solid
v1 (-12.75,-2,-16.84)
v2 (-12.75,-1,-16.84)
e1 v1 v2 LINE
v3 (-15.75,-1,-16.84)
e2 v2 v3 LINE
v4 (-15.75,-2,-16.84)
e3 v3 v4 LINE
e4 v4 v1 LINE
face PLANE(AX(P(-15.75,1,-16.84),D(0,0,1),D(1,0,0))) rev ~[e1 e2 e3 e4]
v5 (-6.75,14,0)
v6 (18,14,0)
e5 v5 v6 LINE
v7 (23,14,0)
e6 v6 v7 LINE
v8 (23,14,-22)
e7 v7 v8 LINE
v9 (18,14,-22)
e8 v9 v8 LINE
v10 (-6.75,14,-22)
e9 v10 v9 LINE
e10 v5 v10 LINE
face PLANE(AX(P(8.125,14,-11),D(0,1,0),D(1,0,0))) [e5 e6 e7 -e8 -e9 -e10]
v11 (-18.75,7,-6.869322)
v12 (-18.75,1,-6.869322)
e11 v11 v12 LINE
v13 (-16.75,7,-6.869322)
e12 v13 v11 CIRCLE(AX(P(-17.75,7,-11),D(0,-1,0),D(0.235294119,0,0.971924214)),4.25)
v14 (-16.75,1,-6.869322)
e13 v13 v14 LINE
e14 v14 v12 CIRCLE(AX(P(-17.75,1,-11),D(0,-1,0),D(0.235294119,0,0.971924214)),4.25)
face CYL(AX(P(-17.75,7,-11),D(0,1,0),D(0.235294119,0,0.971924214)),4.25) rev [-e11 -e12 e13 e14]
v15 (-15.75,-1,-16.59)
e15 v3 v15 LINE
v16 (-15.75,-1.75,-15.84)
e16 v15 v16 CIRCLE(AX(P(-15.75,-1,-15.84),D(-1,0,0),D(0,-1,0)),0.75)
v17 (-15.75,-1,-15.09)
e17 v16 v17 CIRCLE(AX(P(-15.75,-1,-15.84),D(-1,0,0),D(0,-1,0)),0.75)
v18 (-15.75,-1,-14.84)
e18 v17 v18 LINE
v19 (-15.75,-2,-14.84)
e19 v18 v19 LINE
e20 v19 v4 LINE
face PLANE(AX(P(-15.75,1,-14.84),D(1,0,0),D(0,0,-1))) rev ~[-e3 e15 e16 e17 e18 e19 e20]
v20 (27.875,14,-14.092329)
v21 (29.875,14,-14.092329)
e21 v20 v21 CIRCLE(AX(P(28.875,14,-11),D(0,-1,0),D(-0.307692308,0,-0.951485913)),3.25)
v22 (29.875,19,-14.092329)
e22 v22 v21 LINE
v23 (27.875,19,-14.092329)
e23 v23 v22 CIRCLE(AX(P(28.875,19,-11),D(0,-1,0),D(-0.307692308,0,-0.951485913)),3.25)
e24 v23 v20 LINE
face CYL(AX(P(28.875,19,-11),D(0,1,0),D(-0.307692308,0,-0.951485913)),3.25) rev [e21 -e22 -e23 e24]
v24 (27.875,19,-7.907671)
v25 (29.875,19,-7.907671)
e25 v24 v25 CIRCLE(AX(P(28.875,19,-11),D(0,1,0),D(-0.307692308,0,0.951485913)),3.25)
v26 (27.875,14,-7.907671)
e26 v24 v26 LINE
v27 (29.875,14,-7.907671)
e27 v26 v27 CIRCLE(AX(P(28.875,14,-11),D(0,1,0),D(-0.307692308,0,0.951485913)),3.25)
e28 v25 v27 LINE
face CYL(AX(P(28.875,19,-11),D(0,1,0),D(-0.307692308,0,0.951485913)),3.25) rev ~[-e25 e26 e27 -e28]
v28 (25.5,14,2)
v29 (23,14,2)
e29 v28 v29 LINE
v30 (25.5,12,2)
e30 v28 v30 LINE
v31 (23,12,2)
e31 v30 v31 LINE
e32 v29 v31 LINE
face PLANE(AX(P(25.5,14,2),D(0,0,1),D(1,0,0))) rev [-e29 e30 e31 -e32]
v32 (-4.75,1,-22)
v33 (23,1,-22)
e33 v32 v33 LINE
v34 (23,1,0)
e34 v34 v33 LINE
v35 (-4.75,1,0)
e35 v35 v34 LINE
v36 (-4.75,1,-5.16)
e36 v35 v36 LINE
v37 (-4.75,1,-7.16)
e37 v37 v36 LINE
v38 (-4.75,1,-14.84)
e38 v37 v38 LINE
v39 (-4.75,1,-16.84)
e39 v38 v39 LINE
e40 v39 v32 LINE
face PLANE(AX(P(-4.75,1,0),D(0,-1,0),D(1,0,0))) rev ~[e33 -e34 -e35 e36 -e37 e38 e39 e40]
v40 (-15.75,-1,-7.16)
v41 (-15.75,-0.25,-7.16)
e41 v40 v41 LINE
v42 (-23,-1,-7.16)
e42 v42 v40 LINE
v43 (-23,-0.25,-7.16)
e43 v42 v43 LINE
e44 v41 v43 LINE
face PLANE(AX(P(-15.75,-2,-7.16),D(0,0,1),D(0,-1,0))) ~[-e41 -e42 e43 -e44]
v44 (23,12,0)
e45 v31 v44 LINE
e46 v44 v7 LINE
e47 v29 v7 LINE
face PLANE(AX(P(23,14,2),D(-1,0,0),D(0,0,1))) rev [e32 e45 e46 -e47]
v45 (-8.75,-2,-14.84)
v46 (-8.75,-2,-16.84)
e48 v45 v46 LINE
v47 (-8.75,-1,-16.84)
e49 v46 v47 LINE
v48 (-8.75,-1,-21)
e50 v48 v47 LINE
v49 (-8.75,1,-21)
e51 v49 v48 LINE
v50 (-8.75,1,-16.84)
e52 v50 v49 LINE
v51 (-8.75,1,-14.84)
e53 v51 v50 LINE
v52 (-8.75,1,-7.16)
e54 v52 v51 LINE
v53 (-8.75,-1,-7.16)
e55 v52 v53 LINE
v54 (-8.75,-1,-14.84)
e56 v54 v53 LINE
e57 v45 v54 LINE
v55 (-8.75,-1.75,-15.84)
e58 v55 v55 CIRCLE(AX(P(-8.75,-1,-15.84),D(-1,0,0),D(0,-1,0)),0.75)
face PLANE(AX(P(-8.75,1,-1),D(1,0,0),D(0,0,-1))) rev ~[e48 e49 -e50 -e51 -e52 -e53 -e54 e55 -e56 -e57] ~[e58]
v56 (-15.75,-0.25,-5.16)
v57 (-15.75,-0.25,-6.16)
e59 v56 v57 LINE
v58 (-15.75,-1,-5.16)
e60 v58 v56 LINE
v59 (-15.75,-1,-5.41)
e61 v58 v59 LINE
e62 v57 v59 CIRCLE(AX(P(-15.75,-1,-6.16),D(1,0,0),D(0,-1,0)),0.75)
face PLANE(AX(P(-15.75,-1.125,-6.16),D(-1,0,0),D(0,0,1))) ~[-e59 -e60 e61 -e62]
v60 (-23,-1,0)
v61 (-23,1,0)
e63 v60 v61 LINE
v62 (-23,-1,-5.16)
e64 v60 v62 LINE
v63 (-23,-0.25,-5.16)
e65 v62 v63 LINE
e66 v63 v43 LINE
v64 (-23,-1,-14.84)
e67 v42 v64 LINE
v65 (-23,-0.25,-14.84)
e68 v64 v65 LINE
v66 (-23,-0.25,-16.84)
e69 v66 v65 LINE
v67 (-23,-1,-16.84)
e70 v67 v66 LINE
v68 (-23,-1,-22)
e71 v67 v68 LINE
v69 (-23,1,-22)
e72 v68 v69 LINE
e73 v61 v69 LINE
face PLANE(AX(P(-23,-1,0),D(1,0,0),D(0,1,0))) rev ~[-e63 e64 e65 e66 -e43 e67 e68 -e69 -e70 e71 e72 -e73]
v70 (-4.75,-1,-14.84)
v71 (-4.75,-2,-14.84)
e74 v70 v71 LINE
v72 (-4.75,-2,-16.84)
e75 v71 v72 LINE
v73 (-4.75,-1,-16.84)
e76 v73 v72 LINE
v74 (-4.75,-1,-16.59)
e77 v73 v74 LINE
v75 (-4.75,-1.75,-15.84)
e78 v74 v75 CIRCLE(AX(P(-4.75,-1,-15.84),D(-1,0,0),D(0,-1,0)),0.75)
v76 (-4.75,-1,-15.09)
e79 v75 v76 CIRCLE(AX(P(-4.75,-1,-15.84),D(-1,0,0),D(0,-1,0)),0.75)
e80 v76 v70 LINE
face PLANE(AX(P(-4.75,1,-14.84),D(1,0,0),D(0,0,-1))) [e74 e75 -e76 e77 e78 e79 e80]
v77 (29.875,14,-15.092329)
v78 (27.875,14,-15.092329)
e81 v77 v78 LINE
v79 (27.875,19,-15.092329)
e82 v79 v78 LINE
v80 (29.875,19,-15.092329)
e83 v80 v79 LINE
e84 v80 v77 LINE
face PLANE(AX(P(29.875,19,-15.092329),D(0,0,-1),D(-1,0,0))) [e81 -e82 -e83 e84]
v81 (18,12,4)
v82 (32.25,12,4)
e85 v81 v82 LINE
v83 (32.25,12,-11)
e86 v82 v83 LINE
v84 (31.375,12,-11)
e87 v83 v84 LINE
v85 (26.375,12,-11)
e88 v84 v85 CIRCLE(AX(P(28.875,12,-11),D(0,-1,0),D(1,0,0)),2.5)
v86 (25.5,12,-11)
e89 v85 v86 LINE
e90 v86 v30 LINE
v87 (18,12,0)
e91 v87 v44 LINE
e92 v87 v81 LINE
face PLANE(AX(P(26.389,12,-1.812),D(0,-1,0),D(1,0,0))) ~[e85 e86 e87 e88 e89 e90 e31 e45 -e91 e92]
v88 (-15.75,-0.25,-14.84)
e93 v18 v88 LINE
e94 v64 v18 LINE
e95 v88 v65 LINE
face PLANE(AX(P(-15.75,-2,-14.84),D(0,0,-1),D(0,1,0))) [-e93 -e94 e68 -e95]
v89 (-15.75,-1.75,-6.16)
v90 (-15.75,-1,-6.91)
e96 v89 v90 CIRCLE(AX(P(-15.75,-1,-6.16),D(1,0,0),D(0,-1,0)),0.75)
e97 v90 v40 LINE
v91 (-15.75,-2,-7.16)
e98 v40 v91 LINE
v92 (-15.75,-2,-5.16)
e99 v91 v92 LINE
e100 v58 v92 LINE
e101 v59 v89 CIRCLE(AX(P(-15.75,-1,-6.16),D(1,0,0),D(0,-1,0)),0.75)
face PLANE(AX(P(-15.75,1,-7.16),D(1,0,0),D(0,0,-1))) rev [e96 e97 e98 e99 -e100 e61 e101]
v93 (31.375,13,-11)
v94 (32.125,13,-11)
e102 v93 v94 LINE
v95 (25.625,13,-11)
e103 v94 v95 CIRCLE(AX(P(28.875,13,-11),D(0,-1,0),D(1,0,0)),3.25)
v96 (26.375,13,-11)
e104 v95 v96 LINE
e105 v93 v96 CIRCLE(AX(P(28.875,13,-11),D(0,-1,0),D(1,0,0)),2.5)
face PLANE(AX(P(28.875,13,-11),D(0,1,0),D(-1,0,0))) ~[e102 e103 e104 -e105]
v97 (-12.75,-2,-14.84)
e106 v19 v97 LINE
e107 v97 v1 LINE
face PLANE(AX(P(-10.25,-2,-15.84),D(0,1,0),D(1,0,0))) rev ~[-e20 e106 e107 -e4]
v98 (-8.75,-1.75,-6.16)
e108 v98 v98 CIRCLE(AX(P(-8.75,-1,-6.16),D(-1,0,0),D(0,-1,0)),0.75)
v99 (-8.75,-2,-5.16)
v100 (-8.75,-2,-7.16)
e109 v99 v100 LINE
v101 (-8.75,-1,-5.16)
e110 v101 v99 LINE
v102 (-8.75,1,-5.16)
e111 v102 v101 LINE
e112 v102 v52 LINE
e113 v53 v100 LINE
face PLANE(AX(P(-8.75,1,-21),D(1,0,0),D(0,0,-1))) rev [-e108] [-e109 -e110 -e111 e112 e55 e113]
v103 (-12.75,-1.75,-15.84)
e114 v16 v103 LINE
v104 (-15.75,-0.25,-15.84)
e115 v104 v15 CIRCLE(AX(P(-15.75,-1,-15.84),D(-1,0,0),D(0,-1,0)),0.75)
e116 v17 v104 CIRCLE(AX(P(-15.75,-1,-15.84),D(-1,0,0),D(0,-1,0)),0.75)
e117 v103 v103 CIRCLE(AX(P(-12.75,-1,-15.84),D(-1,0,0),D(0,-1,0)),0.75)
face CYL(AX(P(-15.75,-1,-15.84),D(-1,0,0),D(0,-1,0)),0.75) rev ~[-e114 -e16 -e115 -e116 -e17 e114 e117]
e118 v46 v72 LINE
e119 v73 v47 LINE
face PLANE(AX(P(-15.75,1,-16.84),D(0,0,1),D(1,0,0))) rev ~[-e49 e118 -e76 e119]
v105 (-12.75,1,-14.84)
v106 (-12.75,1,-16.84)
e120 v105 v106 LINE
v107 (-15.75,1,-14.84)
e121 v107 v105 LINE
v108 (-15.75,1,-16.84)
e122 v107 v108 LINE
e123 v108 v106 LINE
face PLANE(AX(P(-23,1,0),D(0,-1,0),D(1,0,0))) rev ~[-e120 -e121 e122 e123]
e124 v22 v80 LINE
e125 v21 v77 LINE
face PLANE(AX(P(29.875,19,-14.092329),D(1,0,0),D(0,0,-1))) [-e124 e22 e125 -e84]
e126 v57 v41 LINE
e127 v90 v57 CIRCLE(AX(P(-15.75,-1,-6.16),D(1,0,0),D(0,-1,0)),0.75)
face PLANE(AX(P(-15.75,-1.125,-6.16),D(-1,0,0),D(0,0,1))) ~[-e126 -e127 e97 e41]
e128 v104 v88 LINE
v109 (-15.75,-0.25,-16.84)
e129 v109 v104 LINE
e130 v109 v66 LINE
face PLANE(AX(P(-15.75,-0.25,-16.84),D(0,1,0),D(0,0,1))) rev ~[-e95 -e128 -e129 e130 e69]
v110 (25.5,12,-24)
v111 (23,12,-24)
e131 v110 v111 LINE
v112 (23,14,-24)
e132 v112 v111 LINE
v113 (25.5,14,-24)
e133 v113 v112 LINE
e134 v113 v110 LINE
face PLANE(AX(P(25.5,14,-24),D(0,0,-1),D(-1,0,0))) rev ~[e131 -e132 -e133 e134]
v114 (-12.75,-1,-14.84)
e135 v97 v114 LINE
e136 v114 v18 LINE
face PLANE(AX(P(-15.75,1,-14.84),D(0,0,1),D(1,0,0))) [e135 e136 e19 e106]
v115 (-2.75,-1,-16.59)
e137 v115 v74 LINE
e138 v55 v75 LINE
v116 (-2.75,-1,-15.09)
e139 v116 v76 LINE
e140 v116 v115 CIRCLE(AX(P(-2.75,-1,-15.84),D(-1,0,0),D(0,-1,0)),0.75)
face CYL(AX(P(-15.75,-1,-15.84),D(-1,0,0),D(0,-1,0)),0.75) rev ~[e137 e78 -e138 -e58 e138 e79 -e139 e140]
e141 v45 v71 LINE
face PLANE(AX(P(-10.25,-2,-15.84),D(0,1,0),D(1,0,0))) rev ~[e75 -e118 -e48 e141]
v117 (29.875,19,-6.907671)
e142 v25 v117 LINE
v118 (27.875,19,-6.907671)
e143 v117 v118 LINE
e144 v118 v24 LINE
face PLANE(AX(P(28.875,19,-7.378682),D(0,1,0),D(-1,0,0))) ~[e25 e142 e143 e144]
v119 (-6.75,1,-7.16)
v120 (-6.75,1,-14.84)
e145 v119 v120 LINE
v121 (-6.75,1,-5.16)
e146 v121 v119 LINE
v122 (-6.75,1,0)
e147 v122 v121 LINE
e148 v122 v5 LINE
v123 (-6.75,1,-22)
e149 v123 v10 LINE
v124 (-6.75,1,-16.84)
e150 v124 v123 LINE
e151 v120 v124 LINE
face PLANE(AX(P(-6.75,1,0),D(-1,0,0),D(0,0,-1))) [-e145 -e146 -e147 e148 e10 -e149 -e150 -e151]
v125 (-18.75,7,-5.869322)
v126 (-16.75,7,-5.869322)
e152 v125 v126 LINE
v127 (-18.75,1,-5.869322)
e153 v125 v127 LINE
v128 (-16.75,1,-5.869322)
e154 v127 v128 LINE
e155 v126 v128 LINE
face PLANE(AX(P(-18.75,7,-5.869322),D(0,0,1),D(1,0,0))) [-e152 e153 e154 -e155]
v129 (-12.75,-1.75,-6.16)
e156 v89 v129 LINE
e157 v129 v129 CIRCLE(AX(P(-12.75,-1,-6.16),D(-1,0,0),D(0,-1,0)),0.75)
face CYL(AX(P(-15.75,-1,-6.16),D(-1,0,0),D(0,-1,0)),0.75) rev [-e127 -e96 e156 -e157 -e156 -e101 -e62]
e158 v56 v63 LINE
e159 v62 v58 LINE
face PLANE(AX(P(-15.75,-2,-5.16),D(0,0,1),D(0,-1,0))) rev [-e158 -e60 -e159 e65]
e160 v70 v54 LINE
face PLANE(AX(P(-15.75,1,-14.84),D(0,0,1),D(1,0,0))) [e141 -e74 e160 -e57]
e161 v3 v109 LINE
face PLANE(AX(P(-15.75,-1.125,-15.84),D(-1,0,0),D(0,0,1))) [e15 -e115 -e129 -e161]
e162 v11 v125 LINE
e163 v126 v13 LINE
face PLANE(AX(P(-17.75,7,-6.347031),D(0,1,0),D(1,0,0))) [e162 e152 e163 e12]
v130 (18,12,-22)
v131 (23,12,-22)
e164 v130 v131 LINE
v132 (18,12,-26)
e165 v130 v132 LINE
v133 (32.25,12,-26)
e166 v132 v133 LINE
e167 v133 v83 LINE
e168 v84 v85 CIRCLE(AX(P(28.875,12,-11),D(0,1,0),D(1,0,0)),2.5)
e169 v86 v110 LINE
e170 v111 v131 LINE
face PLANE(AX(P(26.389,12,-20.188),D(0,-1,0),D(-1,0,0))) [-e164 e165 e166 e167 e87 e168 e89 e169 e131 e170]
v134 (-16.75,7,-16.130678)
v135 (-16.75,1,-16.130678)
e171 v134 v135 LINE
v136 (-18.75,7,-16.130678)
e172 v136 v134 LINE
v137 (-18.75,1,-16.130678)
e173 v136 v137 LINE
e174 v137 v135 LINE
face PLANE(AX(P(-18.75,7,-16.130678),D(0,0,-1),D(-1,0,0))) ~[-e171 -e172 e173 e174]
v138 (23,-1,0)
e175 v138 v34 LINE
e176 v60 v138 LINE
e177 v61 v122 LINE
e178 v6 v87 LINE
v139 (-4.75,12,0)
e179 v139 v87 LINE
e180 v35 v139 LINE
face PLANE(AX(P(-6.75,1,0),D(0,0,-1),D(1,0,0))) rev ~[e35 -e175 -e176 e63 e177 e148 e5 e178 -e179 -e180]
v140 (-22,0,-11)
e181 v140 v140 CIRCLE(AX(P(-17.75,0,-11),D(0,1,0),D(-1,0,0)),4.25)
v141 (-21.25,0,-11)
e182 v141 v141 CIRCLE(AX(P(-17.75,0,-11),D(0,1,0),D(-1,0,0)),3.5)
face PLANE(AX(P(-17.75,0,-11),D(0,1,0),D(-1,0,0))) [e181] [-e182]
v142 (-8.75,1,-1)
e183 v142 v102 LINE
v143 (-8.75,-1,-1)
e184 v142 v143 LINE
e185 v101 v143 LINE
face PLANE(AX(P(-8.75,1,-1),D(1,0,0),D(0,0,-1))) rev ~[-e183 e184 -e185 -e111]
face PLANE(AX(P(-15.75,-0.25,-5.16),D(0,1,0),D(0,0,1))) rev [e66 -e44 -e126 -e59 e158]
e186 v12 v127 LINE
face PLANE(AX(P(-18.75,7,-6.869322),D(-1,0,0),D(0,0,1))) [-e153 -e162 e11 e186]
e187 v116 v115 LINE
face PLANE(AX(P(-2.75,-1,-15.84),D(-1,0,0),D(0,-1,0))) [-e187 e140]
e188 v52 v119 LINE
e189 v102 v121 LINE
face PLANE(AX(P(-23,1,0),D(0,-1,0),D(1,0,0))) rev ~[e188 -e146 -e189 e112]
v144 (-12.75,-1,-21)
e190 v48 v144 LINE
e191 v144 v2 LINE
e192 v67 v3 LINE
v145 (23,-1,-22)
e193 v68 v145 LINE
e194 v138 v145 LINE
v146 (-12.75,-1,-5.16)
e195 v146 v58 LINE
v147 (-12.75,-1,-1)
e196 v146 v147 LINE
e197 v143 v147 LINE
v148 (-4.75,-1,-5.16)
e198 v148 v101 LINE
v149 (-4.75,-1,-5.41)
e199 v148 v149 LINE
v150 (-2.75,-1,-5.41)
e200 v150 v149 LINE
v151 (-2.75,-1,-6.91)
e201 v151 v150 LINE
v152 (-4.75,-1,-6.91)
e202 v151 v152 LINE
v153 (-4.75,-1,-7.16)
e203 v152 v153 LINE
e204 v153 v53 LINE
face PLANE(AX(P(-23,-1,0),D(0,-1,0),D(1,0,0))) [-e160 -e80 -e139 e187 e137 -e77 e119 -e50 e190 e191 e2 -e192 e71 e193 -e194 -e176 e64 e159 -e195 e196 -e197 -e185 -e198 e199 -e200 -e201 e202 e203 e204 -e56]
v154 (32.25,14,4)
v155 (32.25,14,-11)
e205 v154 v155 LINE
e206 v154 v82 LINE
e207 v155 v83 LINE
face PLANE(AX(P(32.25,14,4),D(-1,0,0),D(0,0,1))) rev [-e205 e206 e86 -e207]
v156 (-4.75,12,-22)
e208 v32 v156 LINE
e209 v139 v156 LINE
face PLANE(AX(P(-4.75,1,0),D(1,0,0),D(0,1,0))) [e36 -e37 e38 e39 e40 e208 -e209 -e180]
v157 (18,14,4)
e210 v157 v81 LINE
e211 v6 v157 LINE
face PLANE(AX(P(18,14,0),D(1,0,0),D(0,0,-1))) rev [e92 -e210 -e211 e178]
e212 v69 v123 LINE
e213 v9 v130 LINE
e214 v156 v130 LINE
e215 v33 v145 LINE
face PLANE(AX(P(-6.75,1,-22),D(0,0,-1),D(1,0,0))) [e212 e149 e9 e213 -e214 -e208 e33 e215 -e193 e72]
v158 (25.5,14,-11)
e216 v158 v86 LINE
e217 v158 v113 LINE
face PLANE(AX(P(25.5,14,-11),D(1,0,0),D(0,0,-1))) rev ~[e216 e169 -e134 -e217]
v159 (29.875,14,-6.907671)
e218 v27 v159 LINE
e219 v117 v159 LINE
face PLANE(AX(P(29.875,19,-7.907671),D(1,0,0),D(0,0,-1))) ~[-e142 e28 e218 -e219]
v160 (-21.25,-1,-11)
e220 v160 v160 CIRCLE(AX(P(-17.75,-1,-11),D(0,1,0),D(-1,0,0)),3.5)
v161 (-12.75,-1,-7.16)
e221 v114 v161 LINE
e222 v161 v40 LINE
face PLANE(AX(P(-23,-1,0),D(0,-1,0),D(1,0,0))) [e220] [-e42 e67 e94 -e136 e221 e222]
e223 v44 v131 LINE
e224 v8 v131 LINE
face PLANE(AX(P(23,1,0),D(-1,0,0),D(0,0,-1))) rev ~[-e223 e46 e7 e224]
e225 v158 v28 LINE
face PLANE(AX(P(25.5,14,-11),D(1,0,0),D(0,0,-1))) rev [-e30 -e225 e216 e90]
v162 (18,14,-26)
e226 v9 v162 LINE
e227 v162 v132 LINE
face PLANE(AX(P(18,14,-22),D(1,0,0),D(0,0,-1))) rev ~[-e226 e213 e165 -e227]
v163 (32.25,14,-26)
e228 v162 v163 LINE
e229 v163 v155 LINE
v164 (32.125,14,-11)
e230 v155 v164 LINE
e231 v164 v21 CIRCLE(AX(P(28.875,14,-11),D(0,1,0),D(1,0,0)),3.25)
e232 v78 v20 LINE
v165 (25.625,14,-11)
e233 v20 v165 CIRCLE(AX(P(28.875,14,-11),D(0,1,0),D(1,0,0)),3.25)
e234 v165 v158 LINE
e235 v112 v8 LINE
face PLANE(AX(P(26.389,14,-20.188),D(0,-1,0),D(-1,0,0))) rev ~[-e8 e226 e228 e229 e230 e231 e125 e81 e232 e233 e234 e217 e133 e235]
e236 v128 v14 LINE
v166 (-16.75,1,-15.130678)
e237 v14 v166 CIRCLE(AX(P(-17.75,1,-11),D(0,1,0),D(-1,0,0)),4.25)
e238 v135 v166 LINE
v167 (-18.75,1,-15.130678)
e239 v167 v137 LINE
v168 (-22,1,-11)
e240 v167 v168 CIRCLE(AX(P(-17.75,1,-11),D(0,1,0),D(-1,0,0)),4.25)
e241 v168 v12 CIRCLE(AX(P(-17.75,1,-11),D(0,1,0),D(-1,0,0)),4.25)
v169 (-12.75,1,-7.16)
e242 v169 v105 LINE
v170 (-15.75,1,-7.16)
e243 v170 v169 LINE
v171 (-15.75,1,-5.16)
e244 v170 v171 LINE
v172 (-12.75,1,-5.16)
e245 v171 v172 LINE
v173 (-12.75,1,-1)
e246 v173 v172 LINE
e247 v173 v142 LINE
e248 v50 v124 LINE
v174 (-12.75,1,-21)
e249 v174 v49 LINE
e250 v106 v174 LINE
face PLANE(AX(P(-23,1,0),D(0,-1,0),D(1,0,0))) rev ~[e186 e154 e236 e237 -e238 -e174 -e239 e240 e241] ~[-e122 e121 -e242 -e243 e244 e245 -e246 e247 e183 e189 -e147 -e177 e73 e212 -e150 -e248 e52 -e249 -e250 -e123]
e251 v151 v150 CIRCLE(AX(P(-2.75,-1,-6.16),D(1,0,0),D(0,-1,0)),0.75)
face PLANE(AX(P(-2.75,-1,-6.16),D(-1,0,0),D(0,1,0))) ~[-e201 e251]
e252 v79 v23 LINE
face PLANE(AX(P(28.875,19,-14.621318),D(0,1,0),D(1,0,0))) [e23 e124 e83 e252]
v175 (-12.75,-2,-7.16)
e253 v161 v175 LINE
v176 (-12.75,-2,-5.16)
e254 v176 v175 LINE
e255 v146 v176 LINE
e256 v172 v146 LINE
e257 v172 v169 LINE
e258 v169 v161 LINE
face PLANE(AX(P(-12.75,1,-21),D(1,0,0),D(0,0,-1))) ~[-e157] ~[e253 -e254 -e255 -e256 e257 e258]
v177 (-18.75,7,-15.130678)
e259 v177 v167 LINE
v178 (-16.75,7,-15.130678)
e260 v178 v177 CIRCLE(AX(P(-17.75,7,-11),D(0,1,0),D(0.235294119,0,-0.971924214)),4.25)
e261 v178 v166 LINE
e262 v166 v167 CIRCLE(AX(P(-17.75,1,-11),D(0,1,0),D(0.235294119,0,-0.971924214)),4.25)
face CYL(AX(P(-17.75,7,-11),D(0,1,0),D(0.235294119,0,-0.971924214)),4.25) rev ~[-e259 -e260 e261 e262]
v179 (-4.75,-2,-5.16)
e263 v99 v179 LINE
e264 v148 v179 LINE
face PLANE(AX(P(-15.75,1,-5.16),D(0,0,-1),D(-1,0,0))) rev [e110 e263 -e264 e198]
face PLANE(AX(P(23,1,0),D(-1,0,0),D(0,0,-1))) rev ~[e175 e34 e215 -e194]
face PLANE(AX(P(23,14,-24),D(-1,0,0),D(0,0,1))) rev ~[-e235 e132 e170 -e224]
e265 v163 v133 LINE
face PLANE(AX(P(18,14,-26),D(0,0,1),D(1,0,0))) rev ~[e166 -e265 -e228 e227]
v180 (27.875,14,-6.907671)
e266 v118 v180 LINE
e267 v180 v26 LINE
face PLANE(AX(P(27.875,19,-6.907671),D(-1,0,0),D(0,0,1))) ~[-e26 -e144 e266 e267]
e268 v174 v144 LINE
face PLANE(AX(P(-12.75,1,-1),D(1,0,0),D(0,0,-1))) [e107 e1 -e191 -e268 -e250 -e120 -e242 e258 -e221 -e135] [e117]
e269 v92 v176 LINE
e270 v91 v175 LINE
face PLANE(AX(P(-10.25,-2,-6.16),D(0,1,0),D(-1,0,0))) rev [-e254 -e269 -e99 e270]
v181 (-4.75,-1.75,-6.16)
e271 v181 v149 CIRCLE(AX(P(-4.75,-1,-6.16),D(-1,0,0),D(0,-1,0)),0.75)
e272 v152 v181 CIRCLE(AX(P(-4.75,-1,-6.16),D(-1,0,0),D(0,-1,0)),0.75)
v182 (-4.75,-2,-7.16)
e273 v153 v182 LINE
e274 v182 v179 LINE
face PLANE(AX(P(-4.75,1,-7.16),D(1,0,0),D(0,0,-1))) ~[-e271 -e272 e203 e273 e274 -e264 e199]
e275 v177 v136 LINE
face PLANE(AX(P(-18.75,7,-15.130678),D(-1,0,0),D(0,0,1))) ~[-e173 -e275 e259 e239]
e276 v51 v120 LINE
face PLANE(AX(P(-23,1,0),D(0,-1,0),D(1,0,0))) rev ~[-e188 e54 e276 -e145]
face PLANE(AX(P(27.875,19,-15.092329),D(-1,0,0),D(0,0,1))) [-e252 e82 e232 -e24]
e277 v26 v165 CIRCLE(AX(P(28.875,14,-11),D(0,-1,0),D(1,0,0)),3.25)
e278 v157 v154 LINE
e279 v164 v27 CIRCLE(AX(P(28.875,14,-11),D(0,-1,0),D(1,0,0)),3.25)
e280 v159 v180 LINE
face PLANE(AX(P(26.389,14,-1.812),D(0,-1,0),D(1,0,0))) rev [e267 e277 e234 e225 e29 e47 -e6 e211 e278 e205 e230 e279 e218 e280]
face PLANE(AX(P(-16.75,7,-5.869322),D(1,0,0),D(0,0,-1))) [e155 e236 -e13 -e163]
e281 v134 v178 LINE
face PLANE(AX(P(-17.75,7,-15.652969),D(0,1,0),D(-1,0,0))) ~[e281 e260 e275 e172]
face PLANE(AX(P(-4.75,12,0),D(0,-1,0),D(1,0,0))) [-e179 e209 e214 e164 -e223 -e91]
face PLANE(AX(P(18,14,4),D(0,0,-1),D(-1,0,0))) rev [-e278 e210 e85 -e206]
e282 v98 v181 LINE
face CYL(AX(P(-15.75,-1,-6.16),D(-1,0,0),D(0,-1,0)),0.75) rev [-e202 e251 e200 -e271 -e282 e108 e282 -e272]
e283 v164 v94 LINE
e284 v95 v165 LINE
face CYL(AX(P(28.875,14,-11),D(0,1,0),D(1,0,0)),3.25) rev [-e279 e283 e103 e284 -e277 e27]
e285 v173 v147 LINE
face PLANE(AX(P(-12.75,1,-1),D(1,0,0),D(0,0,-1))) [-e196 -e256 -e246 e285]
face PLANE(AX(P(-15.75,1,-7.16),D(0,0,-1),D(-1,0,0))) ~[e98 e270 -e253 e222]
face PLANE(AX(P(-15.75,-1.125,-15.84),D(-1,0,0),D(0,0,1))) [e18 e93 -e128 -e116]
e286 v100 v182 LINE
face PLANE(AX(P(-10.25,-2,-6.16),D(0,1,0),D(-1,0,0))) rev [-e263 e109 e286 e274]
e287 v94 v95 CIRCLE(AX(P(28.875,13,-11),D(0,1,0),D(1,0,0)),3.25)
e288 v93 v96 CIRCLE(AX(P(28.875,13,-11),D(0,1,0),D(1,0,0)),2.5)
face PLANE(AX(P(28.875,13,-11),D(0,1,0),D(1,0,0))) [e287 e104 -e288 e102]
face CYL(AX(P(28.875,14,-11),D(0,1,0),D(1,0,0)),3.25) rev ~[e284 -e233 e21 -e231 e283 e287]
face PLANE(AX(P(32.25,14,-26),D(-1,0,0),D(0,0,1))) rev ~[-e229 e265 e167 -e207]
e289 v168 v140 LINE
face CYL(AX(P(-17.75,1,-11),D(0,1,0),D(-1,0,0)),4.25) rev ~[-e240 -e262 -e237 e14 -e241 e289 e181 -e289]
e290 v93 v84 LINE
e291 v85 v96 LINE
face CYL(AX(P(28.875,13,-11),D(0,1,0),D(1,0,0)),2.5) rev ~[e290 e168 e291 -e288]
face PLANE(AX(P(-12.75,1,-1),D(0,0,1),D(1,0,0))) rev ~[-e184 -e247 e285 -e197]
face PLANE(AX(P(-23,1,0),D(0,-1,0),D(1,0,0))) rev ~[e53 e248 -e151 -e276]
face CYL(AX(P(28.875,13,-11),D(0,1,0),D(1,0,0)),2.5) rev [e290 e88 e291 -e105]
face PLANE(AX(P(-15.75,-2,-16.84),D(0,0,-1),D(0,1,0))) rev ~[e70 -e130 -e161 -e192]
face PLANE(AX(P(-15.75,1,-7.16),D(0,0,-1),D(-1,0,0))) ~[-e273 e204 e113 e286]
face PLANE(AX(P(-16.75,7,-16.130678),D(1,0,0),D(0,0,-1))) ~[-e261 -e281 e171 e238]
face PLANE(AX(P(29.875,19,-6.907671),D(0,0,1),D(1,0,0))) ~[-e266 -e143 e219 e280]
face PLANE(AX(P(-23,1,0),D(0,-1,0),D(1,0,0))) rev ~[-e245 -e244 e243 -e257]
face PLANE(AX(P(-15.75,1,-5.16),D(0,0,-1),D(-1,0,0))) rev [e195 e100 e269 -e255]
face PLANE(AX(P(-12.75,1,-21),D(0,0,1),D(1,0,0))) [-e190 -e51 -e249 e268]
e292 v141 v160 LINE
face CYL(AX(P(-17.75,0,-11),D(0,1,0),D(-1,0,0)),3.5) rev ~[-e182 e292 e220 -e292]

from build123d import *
from build123d.topology import SkipClean

# Parameters (mm, degrees)
SKETCH1_W           = 46
SKETCH1_H           = 2
BOSS_EXTRUDE1_DEPTH = 22
SKETCH2_W           = 29.75
SKETCH2_H           = 22
BOSS_EXTRUDE2_DEPTH = 13
SKETCH3_W           = 27.75
SKETCH3_H           = 11
CUT_EXTRUDE1_DEPTH  = 22
SKETCH4_R           = 4.25
CUT_EXTRUDE2_DEPTH  = 1
SKETCH5_R           = 3.5
CUT_EXTRUDE3_DEPTH  = 1
BOSS_EXTRUDE4_START = 6
BOSS_EXTRUDE4_DEPTH = 6
SKETCH20_W          = 11
SKETCH20_H          = 2
BOSS_EXTRUDE8_DEPTH = 3
SKETCH6_W           = 4
SKETCH6_H           = 20
CUT_EXTRUDE4_DEPTH  = 35.380226875
SKETCH25_W          = 2
SKETCH25_H          = 1.75
CUT_EXTRUDE7_DEPTH  = 47.707199659
SKETCH26_R          = 0.75
CUT_EXTRUDE8_DEPTH  = 13
BOSS_EXTRUDE3_DEPTH = 2
SKETCH13_R          = 3.25
CUT_EXTRUDE5_DEPTH  = 1
SKETCH14_R          = 2.5
CUT_EXTRUDE6_DEPTH  = 1
BOSS_EXTRUDE6_START = 5
BOSS_EXTRUDE6_DEPTH = 5


with BuildPart() as part:
    # Sketch1 → Boss-Extrude1 (new body)
    with BuildSketch(Plane.XY):
        Rectangle(SKETCH1_W, SKETCH1_H)
    extrude(amount=-BOSS_EXTRUDE1_DEPTH)

    # Sketch2 → Boss-Extrude2 (add)
    with BuildSketch(Plane(origin=(0, 1, 0), x_dir=(1, 0, 0), z_dir=(0, 1, 0))):
        with Locations((8.125, 11)):
            Rectangle(SKETCH2_W, SKETCH2_H)
    extrude(amount=BOSS_EXTRUDE2_DEPTH)

    # Sketch3 → Cut-Extrude1 (cut)
    with BuildSketch(Plane.XY):
        with Locations((9.125, 6.5)):
            Rectangle(SKETCH3_W, SKETCH3_H)
    extrude(amount=-CUT_EXTRUDE1_DEPTH, mode=Mode.SUBTRACT)

    # Sketch4 → Cut-Extrude2 (cut)
    with BuildSketch(Plane(origin=(0, 1, 0), x_dir=(1, 0, 0), z_dir=(0, 1, 0))):
        with Locations(Location((-17.75, 11, 0), (0, 0, 180))):
            Circle(SKETCH4_R)
    extrude(amount=-CUT_EXTRUDE2_DEPTH, mode=Mode.SUBTRACT)

    # Sketch5 → Cut-Extrude3 (cut)
    with BuildSketch(Plane(origin=(0, 0, 0), x_dir=(1, 0, 0), z_dir=(0, 1, 0))):
        with Locations(Location((-17.75, 11, 0), (0, 0, 180))):
            Circle(SKETCH5_R)
    extrude(amount=-CUT_EXTRUDE3_DEPTH, mode=Mode.SUBTRACT)

    # Sketch16 → Boss-Extrude4 (add)
    with SkipClean():  # the faces are left unmerged after this step: merging them gives an invalid solid
        with BuildSketch(Plane(origin=(0, 1, 0), x_dir=(1, 0, 0), z_dir=(0, 1, 0)).offset(BOSS_EXTRUDE4_START)):
            with BuildLine():
                Line((-18.75, 6.86932209), (-18.75, 5.86932209))
                Line((-18.75, 5.86932209), (-16.75, 5.86932209))
                Line((-16.75, 5.86932209), (-16.75, 6.86932209))
                ThreePointArc((-16.75, 6.86932209), (-17.75, 6.75), (-18.75, 6.86932209))
            make_face()
        boss_extrude4 = extrude(amount=-BOSS_EXTRUDE4_DEPTH)

    # Sketch20 → Boss-Extrude8 (add)
    with SkipClean():  # the faces are left unmerged after this step: merging them gives an invalid solid
        with BuildSketch(Plane(origin=(0, 1, 0), x_dir=(1, 0, 0), z_dir=(0, 1, 0))):
            with Locations((-10.25, 15.84)):
                Rectangle(SKETCH20_W, SKETCH20_H)
        boss_extrude8 = extrude(amount=-BOSS_EXTRUDE8_DEPTH)

    # Sketch6 → Cut-Extrude4 (cut, through all)
    with SkipClean():  # the faces are left unmerged after this step: merging them gives an invalid solid
        with BuildSketch(Plane(origin=(0, 1, 0), x_dir=(1, 0, 0), z_dir=(0, 1, 0))):
            with Locations((-10.75, 11)):
                Rectangle(SKETCH6_W, SKETCH6_H)
        cut_extrude4 = extrude(amount=-CUT_EXTRUDE4_DEPTH, mode=Mode.SUBTRACT)

    # Sketch25 → Cut-Extrude7 (cut, through all)
    with SkipClean():  # the faces are left unmerged after this step: merging them gives an invalid solid
        with BuildSketch(Plane.ZY.offset(15.75)):
            with Locations((-15.84, -1.125)):
                Rectangle(SKETCH25_W, SKETCH25_H)
        cut_extrude7 = extrude(amount=CUT_EXTRUDE7_DEPTH, mode=Mode.SUBTRACT)

    # Sketch26 → Cut-Extrude8 (cut)
    with SkipClean():  # the faces are left unmerged after this step: merging them gives an invalid solid
        with BuildSketch(Plane.ZY.offset(15.75)):
            with Locations(Location((-15.84, -1, 0), (0, 0, 270))):
                Circle(SKETCH26_R)
        cut_extrude8 = extrude(amount=-CUT_EXTRUDE8_DEPTH, mode=Mode.SUBTRACT)

    # Mirror8: Boss-Extrude4, Boss-Extrude8, Cut-Extrude4, Cut-Extrude7, Cut-Extrude8 across plane
    with SkipClean():  # the faces are left unmerged after this step: merging them gives an invalid solid
        add(boss_extrude4.mirror(Plane.XY.offset(-11)))
        add(boss_extrude8.mirror(Plane.XY.offset(-11)))
        add(cut_extrude4.mirror(Plane.XY.offset(-11)), mode=Mode.SUBTRACT)
        add(cut_extrude7.mirror(Plane.XY.offset(-11)), mode=Mode.SUBTRACT)
        add(cut_extrude8.mirror(Plane.XY.offset(-11)), mode=Mode.SUBTRACT)

    # Sketch12 → Boss-Extrude3 (add)
    with SkipClean():  # the faces are left unmerged after this step: merging them gives an invalid solid
        with BuildSketch(Plane(origin=(0, 14, 0), x_dir=(1, 0, 0), z_dir=(0, 1, 0))):
            Polygon((23, 22), (18, 22), (18, 26), (32.25, 26), (32.25, 11), (25.5, 11), (25.5, 24), (23, 24), align=None)
        boss_extrude3 = extrude(amount=-BOSS_EXTRUDE3_DEPTH)

    # Sketch13 → Cut-Extrude5 (cut)
    with SkipClean():  # the faces are left unmerged after this step: merging them gives an invalid solid
        with BuildSketch(Plane(origin=(0, 14, 0), x_dir=(1, 0, 0), z_dir=(0, 1, 0))):
            with Locations((28.875, 11)):
                Circle(SKETCH13_R)
        cut_extrude5 = extrude(amount=-CUT_EXTRUDE5_DEPTH, mode=Mode.SUBTRACT)

    # Sketch14 → Cut-Extrude6 (cut)
    with SkipClean():  # the faces are left unmerged after this step: merging them gives an invalid solid
        with BuildSketch(Plane(origin=(0, 13, 0), x_dir=(1, 0, 0), z_dir=(0, 1, 0))):
            with Locations((28.875, 11)):
                Circle(SKETCH14_R)
        cut_extrude6 = extrude(amount=-CUT_EXTRUDE6_DEPTH, mode=Mode.SUBTRACT)

    # Sketch18 → Boss-Extrude6 (add)
    with SkipClean():  # the faces are left unmerged after this step: merging them gives an invalid solid
        with BuildSketch(Plane(origin=(0, 14, 0), x_dir=(1, 0, 0), z_dir=(0, 1, 0)).offset(BOSS_EXTRUDE6_START)):
            with BuildLine():
                Line((29.875, 14.092329219), (29.875, 15.092329219))
                Line((29.875, 15.092329219), (27.875, 15.092329219))
                Line((27.875, 15.092329219), (27.875, 14.092329219))
                ThreePointArc((27.875, 14.092329219), (28.875, 14.25), (29.875, 14.092329219))
            make_face()
        boss_extrude6 = extrude(amount=-BOSS_EXTRUDE6_DEPTH)

    # Mirror3: Boss-Extrude3, Cut-Extrude5, Cut-Extrude6, Boss-Extrude6 across plane
    with SkipClean():  # the faces are left unmerged after this step: merging them gives an invalid solid
        add(boss_extrude3.mirror(Plane.XY.offset(-11)))
        add(cut_extrude5.mirror(Plane.XY.offset(-11)), mode=Mode.SUBTRACT)
        add(cut_extrude6.mirror(Plane.XY.offset(-11)), mode=Mode.SUBTRACT)
        add(boss_extrude6.mirror(Plane.XY.offset(-11)))


solid = part.part
